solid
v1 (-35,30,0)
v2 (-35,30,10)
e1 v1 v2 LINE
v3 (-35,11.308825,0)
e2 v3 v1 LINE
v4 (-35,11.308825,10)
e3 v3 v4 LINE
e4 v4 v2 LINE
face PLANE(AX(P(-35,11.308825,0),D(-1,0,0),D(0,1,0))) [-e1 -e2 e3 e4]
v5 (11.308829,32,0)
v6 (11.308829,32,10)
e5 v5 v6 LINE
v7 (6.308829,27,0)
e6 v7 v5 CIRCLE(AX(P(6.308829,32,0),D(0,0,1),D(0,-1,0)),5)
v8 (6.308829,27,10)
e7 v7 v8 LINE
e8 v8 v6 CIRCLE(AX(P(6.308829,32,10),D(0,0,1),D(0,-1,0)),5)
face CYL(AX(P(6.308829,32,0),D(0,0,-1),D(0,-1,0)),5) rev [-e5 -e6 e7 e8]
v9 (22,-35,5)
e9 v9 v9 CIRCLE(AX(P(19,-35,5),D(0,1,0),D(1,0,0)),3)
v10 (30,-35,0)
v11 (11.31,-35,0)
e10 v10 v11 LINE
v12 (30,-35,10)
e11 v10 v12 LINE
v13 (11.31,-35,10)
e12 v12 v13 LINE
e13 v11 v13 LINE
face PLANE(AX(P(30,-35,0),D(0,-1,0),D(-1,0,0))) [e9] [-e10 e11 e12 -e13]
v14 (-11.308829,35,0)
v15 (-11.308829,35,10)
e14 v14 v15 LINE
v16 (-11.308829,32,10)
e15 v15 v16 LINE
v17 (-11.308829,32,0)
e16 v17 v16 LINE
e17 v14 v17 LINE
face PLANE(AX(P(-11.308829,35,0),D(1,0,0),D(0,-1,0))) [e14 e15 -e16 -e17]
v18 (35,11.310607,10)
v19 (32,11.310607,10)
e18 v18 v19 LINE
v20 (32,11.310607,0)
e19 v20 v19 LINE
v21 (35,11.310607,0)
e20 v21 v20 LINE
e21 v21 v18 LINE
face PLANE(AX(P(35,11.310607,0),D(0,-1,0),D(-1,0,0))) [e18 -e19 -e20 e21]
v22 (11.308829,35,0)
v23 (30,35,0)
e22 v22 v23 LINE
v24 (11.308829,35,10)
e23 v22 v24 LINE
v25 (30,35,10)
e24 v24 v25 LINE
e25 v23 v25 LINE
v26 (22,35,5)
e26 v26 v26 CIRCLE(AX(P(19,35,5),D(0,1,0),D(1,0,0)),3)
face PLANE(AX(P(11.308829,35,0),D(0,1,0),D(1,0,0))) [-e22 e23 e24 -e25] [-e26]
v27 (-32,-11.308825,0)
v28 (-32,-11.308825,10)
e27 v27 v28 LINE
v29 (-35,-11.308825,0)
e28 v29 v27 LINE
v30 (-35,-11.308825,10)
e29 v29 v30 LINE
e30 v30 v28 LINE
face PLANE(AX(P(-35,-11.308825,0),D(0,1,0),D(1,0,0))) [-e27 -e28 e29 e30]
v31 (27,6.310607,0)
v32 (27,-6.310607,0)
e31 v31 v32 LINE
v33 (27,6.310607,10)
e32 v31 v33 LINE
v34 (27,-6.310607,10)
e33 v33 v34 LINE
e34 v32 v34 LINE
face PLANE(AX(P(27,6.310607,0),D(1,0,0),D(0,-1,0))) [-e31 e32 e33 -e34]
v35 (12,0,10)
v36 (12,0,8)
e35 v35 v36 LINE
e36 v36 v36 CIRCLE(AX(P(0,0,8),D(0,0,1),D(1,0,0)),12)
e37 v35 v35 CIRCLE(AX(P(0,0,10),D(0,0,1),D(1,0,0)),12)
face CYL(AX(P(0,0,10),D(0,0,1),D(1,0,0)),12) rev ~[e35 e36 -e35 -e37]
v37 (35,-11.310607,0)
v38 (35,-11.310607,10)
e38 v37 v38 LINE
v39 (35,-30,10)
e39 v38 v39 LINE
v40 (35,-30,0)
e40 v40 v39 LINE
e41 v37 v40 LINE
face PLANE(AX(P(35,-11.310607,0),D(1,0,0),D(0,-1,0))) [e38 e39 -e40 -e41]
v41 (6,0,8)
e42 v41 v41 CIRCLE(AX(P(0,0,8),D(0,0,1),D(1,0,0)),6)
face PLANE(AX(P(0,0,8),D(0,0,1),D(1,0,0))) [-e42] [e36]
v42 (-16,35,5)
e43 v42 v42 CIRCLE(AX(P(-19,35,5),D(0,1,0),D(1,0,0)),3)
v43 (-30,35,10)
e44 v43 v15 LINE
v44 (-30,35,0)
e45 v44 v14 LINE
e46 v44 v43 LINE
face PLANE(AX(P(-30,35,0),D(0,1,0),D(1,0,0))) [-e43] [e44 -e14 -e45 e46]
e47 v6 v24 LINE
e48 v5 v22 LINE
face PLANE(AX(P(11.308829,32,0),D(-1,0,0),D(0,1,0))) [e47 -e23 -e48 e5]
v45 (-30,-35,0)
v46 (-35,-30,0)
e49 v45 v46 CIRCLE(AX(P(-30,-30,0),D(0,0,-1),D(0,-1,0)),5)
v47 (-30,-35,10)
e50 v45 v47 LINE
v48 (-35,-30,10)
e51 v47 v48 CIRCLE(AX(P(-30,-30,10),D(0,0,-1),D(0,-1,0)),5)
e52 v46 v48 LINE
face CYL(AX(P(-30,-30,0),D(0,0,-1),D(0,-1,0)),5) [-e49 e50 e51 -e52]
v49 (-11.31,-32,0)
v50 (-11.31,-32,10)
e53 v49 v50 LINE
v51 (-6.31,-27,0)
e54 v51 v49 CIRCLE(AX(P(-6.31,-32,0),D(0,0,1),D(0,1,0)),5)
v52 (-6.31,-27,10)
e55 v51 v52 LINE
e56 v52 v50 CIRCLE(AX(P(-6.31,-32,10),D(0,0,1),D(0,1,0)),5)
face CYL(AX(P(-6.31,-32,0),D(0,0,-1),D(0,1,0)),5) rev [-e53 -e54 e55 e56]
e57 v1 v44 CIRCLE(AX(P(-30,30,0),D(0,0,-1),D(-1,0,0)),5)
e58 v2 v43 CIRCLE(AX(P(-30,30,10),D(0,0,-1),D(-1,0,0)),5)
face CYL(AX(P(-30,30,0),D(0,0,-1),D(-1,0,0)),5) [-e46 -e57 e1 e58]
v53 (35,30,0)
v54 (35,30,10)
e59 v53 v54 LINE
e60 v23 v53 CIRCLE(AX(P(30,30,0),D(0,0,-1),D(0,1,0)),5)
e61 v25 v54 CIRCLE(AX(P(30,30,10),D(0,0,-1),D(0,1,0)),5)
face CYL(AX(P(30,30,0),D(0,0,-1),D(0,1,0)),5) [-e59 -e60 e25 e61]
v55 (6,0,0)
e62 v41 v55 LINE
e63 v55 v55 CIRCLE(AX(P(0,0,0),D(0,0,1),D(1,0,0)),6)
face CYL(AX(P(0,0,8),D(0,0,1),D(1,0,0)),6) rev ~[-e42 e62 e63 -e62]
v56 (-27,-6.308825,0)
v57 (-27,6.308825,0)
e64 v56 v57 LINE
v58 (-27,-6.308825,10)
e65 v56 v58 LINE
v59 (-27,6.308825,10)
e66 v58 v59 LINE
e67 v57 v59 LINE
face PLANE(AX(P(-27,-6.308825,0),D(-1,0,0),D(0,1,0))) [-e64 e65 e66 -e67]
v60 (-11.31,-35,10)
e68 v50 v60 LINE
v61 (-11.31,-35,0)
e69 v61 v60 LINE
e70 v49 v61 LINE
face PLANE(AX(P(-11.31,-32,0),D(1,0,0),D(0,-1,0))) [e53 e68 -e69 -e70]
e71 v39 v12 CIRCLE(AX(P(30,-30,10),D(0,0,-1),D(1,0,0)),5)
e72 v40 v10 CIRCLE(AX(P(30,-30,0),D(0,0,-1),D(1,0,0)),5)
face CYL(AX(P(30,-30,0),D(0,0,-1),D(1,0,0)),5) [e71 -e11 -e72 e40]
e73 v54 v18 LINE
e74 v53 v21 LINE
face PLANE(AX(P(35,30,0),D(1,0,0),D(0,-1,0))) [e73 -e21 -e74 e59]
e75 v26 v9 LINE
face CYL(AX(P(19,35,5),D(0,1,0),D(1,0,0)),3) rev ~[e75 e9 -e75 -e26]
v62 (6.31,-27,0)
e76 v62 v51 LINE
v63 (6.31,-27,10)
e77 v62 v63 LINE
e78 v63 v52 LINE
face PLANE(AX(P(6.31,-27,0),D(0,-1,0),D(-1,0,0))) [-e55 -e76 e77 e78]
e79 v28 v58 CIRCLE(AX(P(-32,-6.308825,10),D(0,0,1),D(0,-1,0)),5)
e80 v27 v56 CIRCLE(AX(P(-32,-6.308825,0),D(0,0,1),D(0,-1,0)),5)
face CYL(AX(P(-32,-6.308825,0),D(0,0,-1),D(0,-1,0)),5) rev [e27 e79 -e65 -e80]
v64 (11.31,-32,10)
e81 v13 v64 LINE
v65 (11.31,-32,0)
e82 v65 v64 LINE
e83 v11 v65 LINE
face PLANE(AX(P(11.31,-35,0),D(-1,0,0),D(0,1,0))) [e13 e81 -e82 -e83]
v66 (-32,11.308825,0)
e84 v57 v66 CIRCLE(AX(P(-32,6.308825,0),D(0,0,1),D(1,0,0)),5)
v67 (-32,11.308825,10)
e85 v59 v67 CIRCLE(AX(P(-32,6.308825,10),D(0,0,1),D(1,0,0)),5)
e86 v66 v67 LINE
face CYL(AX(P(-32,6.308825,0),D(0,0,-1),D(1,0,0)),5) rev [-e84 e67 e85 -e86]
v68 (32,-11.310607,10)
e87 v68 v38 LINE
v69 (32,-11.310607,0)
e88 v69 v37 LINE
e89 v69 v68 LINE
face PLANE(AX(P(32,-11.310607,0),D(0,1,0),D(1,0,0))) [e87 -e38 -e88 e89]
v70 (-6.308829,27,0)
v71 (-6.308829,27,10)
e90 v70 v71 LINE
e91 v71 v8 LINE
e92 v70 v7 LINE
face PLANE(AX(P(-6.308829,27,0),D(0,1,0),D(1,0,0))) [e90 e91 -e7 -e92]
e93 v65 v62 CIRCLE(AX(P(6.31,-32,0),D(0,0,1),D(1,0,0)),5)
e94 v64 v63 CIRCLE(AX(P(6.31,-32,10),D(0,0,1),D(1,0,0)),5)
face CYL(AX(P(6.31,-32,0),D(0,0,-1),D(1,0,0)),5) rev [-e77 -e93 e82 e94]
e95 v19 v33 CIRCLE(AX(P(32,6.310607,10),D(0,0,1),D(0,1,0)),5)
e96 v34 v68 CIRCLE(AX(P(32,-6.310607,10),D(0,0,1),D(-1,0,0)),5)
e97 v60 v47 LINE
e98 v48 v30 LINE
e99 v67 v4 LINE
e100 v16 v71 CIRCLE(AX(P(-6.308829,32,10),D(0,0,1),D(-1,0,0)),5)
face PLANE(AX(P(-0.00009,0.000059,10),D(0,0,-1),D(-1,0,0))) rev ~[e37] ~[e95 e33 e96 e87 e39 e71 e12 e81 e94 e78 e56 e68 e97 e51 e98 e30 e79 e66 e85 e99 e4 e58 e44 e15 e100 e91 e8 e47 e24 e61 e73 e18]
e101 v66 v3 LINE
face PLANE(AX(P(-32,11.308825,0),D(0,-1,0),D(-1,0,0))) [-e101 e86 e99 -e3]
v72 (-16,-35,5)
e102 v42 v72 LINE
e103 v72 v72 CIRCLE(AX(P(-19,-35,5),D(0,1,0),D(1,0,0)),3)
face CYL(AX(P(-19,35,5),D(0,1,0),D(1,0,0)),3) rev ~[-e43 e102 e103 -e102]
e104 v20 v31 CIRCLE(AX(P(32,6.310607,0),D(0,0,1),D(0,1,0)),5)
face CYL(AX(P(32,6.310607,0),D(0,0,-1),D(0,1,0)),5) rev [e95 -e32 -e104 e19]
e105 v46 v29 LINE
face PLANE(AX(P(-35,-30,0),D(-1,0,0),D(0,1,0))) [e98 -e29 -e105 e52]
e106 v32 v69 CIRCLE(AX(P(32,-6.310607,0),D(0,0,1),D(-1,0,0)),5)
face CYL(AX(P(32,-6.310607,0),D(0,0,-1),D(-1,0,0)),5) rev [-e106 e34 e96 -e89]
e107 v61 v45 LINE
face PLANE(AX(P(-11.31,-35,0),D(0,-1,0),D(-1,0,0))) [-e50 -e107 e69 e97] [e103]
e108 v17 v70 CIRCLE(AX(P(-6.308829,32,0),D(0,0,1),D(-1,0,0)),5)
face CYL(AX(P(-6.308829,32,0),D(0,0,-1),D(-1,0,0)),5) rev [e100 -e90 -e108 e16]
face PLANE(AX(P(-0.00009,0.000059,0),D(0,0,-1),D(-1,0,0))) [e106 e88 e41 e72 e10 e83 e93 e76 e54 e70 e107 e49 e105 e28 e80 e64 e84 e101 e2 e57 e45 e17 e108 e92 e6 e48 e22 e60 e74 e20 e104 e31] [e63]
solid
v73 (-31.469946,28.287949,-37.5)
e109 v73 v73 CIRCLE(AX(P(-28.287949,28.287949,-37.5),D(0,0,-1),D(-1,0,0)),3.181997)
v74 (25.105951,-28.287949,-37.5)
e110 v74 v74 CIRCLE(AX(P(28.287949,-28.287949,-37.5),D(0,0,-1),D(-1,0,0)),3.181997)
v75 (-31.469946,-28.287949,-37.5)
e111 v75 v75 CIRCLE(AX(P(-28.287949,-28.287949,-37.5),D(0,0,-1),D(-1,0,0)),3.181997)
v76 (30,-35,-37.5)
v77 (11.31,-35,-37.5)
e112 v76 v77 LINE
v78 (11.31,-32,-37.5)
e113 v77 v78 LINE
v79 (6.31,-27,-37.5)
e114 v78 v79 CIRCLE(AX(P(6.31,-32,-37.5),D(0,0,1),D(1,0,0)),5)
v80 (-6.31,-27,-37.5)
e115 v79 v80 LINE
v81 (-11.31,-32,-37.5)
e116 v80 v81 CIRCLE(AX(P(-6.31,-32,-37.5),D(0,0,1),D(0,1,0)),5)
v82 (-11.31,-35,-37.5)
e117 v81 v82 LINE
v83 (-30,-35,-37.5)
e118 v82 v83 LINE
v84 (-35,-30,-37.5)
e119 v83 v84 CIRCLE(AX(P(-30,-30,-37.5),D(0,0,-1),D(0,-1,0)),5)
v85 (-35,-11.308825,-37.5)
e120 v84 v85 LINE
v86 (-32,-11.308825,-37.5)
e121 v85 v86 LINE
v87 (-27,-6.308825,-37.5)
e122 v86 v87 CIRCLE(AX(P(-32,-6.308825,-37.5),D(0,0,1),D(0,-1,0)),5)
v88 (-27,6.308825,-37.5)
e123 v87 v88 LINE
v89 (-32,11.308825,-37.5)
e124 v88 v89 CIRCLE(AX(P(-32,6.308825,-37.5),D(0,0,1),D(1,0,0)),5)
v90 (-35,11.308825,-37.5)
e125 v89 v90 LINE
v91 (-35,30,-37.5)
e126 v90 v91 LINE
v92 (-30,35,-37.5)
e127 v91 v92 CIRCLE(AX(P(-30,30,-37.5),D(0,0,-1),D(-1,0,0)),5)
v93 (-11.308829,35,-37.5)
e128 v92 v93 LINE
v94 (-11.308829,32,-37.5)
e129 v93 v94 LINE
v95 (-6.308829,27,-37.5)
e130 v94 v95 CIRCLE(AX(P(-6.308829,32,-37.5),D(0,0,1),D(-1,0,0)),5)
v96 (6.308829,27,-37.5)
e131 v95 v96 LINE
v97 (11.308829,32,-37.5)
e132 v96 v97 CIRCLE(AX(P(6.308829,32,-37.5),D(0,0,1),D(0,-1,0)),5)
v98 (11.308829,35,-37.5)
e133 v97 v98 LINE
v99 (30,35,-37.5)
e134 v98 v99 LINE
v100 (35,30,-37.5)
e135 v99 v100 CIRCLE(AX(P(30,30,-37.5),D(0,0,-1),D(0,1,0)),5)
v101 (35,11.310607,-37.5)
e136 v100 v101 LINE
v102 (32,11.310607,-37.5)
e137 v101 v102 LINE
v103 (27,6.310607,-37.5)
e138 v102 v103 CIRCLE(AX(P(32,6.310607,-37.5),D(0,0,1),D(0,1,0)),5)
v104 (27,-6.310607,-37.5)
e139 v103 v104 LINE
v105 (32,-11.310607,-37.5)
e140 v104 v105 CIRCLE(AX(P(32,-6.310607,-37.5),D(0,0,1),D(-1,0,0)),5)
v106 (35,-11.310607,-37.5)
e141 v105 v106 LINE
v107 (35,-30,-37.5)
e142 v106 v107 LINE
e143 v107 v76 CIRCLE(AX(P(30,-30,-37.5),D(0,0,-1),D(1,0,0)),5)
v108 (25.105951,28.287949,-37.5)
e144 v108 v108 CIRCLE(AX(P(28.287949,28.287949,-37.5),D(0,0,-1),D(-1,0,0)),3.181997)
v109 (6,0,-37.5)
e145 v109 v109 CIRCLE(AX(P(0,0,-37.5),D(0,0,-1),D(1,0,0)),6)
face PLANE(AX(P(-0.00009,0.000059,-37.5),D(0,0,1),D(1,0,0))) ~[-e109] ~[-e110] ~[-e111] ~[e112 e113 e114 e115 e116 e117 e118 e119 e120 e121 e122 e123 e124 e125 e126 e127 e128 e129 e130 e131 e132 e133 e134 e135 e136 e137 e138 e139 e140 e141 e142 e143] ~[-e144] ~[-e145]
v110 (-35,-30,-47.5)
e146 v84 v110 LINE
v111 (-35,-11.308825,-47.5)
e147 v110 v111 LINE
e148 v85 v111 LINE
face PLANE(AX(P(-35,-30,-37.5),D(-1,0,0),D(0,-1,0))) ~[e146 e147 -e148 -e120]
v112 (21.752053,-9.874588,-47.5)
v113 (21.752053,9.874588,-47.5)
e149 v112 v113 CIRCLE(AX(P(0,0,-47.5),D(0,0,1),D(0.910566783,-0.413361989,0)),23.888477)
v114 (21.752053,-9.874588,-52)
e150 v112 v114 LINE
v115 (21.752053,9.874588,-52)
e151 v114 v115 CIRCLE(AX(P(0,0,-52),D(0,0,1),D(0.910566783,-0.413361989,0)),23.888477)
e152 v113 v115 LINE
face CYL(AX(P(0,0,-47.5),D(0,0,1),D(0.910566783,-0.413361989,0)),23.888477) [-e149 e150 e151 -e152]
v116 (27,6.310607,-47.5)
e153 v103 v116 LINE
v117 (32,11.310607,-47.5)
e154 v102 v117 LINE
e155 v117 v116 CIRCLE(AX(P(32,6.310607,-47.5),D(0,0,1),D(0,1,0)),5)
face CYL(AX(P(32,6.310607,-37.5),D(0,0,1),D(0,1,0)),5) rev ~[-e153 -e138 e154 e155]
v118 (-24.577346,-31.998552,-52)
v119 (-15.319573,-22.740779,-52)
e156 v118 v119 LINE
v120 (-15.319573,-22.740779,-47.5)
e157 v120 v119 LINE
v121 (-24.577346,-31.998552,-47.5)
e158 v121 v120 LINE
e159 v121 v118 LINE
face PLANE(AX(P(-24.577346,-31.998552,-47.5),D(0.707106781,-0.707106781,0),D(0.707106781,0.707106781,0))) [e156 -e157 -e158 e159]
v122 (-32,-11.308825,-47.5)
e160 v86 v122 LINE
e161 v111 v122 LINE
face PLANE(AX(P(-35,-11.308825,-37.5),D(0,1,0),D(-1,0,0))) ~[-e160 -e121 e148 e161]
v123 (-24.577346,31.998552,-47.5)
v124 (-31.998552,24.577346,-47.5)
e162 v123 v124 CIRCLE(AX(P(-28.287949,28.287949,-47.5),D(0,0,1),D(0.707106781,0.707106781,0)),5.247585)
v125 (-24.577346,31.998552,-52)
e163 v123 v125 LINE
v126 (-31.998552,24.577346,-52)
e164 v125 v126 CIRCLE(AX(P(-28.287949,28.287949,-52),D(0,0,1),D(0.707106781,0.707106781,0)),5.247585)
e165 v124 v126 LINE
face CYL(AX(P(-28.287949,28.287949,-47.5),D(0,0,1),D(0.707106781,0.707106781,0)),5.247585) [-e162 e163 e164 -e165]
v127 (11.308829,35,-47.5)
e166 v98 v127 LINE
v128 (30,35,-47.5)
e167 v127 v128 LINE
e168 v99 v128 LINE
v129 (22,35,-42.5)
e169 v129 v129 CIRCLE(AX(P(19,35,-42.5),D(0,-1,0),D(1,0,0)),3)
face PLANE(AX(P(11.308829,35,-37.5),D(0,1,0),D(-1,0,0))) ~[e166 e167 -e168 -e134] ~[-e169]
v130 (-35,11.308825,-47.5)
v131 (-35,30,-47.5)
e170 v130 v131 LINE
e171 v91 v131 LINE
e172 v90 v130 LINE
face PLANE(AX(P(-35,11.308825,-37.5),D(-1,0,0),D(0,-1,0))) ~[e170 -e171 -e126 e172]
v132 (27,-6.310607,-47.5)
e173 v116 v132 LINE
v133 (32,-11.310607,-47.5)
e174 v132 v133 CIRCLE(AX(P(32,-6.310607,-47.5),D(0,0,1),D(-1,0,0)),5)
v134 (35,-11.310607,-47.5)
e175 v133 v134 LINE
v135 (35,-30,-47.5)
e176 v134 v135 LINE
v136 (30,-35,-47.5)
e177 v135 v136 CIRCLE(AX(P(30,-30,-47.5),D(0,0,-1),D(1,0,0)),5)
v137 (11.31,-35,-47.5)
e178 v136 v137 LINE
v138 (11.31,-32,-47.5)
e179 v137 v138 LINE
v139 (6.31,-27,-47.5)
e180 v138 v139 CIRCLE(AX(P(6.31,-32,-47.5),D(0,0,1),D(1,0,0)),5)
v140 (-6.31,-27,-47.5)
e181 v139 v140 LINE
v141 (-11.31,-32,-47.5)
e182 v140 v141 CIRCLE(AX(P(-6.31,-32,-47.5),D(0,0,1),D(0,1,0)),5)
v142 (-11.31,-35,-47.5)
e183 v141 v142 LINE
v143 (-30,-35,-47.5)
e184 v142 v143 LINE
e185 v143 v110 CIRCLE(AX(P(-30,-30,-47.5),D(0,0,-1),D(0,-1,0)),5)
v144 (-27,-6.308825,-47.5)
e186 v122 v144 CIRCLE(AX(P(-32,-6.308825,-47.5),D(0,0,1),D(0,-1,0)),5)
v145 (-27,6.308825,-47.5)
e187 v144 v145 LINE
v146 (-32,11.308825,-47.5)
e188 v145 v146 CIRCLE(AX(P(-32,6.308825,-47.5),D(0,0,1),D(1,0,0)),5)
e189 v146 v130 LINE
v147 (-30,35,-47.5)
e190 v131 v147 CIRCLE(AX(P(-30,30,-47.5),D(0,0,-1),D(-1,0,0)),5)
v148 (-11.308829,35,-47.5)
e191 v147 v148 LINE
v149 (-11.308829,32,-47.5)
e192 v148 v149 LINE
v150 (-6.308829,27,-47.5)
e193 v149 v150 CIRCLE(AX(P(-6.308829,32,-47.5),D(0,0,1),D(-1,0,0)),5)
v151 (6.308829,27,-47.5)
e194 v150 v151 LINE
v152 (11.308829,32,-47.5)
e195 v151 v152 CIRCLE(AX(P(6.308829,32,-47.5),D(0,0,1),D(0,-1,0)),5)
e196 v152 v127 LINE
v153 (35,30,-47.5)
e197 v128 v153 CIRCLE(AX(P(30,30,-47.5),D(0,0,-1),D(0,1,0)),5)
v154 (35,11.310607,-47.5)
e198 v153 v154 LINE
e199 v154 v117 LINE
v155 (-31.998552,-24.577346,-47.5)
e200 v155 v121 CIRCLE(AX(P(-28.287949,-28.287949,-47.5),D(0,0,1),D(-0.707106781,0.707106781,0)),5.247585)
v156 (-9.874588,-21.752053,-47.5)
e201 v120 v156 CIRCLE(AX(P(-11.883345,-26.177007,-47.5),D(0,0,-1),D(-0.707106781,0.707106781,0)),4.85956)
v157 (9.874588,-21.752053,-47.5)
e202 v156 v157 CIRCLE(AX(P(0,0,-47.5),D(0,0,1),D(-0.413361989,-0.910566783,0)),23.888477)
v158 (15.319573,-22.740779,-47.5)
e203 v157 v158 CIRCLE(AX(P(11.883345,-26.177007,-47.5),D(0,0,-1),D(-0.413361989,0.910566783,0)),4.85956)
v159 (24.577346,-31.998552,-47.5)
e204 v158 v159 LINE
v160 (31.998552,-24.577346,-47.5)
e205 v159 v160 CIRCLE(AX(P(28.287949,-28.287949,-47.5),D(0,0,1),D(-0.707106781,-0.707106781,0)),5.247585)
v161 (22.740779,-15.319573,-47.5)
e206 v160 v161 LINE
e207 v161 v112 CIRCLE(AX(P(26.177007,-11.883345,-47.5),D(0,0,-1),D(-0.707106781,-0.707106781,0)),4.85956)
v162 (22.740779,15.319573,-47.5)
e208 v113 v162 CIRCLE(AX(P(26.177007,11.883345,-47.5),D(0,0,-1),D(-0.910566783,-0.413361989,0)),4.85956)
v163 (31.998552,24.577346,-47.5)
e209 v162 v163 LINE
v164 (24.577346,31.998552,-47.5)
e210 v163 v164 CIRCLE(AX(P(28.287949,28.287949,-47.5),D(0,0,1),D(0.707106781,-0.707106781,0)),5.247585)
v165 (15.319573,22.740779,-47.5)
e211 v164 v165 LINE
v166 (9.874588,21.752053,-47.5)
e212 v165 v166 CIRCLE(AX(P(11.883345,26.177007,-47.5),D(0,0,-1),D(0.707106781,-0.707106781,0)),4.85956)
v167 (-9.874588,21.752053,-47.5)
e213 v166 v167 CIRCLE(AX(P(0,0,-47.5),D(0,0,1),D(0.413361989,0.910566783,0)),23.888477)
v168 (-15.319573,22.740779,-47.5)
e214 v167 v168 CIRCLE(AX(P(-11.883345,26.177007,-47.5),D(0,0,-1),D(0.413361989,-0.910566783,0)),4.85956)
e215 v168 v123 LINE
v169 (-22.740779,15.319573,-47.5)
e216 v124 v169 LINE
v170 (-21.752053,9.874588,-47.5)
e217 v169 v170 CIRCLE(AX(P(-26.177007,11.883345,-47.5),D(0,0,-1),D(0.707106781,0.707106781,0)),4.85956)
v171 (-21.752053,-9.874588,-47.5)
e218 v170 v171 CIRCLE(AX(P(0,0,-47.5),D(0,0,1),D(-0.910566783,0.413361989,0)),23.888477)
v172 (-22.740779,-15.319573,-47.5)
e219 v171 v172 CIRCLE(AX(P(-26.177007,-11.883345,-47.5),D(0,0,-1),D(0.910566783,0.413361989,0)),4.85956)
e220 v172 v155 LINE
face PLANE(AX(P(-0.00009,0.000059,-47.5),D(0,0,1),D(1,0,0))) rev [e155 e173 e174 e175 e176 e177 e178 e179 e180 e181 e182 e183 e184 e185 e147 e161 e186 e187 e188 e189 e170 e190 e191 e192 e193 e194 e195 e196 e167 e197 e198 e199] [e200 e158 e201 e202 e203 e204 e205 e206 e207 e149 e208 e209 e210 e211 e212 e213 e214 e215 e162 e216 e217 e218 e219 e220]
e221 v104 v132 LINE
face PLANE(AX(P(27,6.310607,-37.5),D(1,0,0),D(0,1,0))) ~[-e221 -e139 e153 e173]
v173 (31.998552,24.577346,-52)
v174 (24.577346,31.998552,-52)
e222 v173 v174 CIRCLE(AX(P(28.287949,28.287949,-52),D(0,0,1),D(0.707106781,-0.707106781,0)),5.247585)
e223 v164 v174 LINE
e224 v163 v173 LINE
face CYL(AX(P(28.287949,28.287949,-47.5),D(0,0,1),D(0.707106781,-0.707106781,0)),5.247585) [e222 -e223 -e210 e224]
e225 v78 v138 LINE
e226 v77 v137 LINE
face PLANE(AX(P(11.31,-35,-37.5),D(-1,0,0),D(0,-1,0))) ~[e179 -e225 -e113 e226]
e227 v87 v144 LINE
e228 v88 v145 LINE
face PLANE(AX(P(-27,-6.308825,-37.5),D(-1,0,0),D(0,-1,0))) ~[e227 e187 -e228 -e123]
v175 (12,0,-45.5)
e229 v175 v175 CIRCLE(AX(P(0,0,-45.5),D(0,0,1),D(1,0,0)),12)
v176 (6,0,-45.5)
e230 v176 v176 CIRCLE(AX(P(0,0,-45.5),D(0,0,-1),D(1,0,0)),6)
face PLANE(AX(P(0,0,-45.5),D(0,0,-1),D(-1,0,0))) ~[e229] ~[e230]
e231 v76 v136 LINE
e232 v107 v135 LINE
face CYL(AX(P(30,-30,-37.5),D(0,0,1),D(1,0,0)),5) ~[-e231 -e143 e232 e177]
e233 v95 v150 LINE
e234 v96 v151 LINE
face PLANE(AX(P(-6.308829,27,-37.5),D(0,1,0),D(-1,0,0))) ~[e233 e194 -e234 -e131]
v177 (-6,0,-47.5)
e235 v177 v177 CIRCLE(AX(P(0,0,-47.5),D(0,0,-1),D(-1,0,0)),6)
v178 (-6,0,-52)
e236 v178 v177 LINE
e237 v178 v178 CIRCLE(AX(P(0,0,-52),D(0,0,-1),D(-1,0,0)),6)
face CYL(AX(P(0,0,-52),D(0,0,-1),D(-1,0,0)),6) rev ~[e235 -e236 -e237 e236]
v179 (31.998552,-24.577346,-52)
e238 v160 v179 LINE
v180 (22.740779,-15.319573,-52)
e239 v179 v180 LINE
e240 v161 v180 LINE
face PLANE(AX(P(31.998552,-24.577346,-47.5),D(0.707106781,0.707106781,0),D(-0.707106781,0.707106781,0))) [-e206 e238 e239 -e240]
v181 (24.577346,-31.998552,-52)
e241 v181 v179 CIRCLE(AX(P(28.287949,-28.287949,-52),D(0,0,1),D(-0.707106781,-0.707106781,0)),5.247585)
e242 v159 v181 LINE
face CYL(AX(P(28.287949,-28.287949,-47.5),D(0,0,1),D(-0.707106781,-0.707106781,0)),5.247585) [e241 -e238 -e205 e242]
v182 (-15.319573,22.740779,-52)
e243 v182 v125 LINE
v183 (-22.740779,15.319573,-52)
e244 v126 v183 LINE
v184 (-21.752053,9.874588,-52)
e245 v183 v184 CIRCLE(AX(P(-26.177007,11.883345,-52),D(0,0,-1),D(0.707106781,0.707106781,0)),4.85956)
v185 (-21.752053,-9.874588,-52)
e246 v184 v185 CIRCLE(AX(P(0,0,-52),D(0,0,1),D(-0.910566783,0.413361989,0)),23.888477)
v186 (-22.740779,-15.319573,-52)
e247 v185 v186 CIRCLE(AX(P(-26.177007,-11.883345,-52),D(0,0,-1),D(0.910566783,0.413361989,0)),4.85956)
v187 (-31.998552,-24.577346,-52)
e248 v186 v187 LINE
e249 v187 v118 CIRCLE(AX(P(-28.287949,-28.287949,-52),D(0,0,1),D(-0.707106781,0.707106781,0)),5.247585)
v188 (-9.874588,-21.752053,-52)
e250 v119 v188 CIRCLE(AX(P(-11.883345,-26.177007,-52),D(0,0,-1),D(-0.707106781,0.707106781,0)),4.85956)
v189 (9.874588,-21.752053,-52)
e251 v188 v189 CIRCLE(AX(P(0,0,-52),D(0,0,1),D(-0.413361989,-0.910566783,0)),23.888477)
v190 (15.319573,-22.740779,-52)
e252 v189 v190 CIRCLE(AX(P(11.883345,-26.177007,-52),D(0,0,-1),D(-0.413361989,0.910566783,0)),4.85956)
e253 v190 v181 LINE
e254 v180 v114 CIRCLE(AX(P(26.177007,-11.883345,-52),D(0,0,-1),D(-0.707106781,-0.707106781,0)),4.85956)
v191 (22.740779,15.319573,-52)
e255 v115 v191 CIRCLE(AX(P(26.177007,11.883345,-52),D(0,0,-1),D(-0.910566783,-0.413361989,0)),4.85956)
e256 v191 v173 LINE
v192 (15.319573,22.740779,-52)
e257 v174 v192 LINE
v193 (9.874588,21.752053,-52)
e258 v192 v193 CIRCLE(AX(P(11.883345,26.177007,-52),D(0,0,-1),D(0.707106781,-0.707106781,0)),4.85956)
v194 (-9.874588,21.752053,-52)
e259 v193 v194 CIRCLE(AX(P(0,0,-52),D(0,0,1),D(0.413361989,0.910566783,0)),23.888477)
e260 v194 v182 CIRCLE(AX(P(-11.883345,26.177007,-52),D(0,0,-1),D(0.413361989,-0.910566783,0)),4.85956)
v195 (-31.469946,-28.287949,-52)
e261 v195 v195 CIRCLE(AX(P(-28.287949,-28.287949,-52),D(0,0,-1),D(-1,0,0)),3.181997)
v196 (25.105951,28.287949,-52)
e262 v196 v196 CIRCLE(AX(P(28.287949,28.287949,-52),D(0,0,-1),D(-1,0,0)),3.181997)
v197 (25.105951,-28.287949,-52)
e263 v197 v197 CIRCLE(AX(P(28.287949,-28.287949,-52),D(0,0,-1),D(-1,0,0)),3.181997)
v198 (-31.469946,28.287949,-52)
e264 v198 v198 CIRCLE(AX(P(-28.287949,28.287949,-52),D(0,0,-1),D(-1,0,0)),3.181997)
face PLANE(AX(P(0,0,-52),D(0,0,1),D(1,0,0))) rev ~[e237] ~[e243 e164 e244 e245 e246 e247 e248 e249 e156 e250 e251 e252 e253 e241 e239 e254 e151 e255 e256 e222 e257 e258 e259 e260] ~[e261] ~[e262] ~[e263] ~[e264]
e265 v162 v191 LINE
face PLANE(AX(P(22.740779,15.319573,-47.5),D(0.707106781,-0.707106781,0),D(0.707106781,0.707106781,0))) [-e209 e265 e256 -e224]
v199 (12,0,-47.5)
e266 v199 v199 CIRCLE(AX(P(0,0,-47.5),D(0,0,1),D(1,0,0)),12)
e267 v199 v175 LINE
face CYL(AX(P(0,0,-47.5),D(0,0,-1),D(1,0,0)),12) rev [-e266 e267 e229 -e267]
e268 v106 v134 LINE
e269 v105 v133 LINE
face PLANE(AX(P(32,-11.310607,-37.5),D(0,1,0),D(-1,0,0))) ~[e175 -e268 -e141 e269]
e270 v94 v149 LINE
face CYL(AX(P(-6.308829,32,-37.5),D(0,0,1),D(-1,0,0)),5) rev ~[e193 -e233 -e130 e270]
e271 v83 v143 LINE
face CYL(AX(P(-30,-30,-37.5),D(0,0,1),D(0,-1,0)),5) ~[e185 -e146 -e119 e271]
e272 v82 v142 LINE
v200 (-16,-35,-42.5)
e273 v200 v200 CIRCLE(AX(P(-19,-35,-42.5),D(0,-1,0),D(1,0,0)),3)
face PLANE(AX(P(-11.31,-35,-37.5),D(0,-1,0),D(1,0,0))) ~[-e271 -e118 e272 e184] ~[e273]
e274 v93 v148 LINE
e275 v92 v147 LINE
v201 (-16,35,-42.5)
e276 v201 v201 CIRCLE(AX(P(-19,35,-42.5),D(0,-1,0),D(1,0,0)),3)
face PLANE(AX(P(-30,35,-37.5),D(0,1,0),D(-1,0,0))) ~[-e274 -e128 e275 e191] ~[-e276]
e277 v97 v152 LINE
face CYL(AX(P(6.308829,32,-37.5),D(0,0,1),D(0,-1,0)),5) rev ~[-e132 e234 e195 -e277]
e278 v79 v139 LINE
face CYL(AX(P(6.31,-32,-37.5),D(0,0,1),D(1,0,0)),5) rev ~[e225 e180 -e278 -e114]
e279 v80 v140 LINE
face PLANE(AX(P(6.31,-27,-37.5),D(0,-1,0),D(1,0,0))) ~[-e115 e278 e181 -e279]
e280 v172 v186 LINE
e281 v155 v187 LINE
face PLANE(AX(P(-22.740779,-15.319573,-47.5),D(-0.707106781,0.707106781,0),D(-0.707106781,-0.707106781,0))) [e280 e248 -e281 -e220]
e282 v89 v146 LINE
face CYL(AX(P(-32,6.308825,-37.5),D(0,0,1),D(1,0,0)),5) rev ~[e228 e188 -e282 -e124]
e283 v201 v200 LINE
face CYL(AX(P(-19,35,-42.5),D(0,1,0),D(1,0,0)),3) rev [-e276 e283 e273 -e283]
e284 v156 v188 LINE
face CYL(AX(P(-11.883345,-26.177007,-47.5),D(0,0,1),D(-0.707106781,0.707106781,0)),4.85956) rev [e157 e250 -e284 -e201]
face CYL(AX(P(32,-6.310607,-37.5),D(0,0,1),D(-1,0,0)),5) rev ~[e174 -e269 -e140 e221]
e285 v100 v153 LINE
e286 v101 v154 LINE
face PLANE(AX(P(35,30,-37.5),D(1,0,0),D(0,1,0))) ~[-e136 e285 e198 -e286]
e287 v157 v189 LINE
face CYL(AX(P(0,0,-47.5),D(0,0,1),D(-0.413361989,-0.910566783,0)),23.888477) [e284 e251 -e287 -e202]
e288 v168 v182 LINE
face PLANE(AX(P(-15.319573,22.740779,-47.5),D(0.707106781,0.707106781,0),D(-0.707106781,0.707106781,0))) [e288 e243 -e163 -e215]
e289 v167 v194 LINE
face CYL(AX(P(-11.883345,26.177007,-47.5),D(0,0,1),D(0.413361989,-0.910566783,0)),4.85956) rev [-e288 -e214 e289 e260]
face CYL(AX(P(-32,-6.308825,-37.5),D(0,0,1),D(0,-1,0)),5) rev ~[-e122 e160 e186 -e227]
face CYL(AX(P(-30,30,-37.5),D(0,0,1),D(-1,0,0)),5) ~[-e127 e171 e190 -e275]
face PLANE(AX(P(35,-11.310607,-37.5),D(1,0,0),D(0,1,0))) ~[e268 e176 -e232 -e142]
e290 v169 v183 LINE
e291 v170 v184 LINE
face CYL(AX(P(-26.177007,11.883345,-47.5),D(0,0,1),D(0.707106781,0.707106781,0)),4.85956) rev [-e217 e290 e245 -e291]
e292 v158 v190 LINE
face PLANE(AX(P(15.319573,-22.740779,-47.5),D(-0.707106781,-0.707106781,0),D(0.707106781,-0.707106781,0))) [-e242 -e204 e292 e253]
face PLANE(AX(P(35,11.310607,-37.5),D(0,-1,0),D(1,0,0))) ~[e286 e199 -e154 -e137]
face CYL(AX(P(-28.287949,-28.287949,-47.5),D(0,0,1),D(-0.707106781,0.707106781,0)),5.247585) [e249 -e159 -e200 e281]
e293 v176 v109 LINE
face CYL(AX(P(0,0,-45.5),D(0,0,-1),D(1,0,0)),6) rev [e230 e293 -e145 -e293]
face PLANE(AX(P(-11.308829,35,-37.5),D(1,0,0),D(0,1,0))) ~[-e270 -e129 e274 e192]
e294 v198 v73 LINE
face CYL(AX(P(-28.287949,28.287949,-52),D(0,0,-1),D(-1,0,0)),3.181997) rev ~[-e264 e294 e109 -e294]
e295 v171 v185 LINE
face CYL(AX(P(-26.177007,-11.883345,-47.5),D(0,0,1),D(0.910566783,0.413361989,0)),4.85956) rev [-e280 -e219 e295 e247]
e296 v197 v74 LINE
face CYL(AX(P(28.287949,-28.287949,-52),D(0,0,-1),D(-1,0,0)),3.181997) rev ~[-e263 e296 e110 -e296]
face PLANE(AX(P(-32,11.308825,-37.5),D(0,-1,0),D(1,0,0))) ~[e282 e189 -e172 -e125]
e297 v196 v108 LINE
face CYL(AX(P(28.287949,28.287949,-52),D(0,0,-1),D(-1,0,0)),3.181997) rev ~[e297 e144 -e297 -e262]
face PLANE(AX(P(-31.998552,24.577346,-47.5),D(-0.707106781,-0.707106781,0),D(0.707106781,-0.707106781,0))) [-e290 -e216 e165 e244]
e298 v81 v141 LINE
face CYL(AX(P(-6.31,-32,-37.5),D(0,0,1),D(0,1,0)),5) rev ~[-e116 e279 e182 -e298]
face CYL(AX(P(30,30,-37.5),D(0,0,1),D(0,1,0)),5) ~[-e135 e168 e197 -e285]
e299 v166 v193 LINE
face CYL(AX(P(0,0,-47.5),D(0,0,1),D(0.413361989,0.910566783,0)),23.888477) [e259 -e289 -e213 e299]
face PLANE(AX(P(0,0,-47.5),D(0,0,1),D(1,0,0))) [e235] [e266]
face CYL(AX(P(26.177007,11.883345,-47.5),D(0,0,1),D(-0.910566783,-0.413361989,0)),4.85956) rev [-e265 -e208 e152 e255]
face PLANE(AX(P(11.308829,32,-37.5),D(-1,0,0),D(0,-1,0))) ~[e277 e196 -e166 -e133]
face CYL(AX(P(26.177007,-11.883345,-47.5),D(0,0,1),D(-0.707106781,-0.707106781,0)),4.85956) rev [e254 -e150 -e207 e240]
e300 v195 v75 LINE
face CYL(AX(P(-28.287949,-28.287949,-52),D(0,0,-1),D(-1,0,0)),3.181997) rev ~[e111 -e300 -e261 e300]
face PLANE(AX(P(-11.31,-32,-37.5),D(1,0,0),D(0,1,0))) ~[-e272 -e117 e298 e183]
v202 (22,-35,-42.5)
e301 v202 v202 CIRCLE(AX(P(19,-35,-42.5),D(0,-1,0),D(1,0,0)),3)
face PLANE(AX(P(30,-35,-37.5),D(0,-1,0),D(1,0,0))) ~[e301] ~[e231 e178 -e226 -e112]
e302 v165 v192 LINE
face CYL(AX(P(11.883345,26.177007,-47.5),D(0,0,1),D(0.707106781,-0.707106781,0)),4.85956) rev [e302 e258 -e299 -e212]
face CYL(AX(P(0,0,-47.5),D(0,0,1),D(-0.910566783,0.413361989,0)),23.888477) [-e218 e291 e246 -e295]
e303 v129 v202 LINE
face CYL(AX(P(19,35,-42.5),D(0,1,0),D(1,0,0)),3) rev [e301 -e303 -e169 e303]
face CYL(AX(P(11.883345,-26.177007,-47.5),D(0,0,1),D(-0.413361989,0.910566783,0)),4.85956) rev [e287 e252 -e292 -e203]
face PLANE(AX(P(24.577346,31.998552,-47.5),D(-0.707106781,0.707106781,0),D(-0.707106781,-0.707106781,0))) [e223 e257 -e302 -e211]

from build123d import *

# Parameters (mm, degrees)
BOSS_EXTRUDE1_DEPTH = 10
SKETCH2_R           = 3
CUT_EXTRUDE1_DEPTH  = 71
SKETCH3_R           = 12
CUT_EXTRUDE2_DEPTH  = 2
SKETCH4_R           = 6
CUT_EXTRUDE3_DEPTH  = 9
BOSS_EXTRUDE2_DEPTH = 4.5
SKETCH6_R           = 3.181997279
SKETCH6_R_2         = 6
CUT_EXTRUDE4_DEPTH  = 14.5


with BuildPart() as part:
    # Sketch1 → Boss-Extrude1 (new body)
    with BuildSketch(Plane.XY):
        with BuildLine():
            Line((-30, 35), (-11.308829268, 35))
            Line((-11.308829268, 35), (-11.308829268, 32))
            ThreePointArc((-11.308829268, 32), (-9.844363174, 28.464466094), (-6.308829268, 27))
            Line((-6.308829268, 27), (6.308829268, 27))
            ThreePointArc((6.308829268, 27), (9.844363174, 28.464466094), (11.308829268, 32))
            Line((11.308829268, 32), (11.308829268, 35))
            Line((11.308829268, 35), (30, 35))
            ThreePointArc((30, 35), (33.535533906, 33.535533906), (35, 30))
            Line((35, 30), (35, 11.310607042))
            Line((35, 11.310607042), (32, 11.310607042))
            ThreePointArc((32, 11.310607042), (28.464466094, 9.846140948), (27, 6.310607042))
            Line((27, 6.310607042), (27, -6.310607042))
            ThreePointArc((27, -6.310607042), (28.464466094, -9.846140948), (32, -11.310607042))
            Line((32, -11.310607042), (35, -11.310607042))
            Line((35, -11.310607042), (35, -30))
            ThreePointArc((35, -30), (33.535533906, -33.535533906), (30, -35))
            Line((30, -35), (11.31, -35))
            Line((11.31, -35), (11.31, -32))
            ThreePointArc((11.31, -32), (9.845533906, -28.464466094), (6.31, -27))
            Line((6.31, -27), (-6.31, -27))
            ThreePointArc((-6.31, -27), (-9.845533906, -28.464466094), (-11.31, -32))
            Line((-11.31, -32), (-11.31, -35))
            Line((-11.31, -35), (-30, -35))
            ThreePointArc((-30, -35), (-33.535533906, -33.535533906), (-35, -30))
            Line((-35, -30), (-35, -11.308825459))
            Line((-35, -11.308825459), (-32, -11.308825459))
            ThreePointArc((-32, -11.308825459), (-28.464466094, -9.844359365), (-27, -6.308825459))
            Line((-27, -6.308825459), (-27, 6.308825459))
            ThreePointArc((-27, 6.308825459), (-28.464466094, 9.844359365), (-32, 11.308825459))
            Line((-32, 11.308825459), (-35, 11.308825459))
            Line((-35, 11.308825459), (-35, 30))
            ThreePointArc((-35, 30), (-33.535533906, 33.535533906), (-30, 35))
        make_face()
    extrude(amount=BOSS_EXTRUDE1_DEPTH)

    # Sketch2 → Cut-Extrude1 (cut, through all)
    with BuildSketch(Plane(origin=(0, 35, 0), x_dir=(1, 0, 0), z_dir=(0, 1, 0))):
        with Locations((-19, -5)):
            Circle(SKETCH2_R)
        with Locations((19, -5)):
            Circle(SKETCH2_R)
    extrude(amount=-CUT_EXTRUDE1_DEPTH, mode=Mode.SUBTRACT)

    # Sketch3 → Cut-Extrude2 (cut)
    with BuildSketch(Plane.XY.offset(10)):
        Circle(SKETCH3_R)
    extrude(amount=-CUT_EXTRUDE2_DEPTH, mode=Mode.SUBTRACT)

    # Sketch4 → Cut-Extrude3 (cut, through all)
    with BuildSketch(Plane.XY.offset(8)):
        Circle(SKETCH4_R)
    extrude(amount=-CUT_EXTRUDE3_DEPTH, mode=Mode.SUBTRACT)


with BuildPart() as body_2:
    # Mirror12: mirrored copy
    add(part.part.mirror(Plane(origin=(0, 0, -18.75), x_dir=(1, 0, 0), z_dir=(0, 0, -1))))

    # Sketch5 → Boss-Extrude2 (add)
    with BuildSketch(Plane(origin=(0, 0, -47.5), x_dir=(-1, 0, 0), z_dir=(0, 0, -1))):
        with BuildLine():
            Line((-24.577345561, 31.998551775), (-15.319573038, 22.740779251))
            ThreePointArc((-15.319573038, 22.740779251), (-12.751569301, 21.395635962), (-9.874588176, 21.75205323))
            ThreePointArc((-9.874588176, 21.75205323), (0, 23.888476539), (9.874588176, 21.75205323))
            ThreePointArc((9.874588176, 21.75205323), (12.751569301, 21.395635962), (15.319573038, 22.740779251))
            Line((15.319573038, 22.740779251), (24.577345561, 31.998551775))
            ThreePointArc((24.577345561, 31.998551775), (31.998551775, 31.998551775), (31.998551775, 24.577345561))
            Line((31.998551775, 24.577345561), (22.740779251, 15.319573038))
            ThreePointArc((22.740779251, 15.319573038), (21.395635962, 12.751569301), (21.75205323, 9.874588176))
            ThreePointArc((21.75205323, 9.874588176), (23.888476539, 0), (21.75205323, -9.874588176))
            ThreePointArc((21.75205323, -9.874588176), (21.395635962, -12.751569301), (22.740779251, -15.319573038))
            Line((22.740779251, -15.319573038), (31.998551775, -24.577345561))
            ThreePointArc((31.998551775, -24.577345561), (31.998551775, -31.998551775), (24.577345561, -31.998551775))
            Line((24.577345561, -31.998551775), (15.319573038, -22.740779251))
            ThreePointArc((15.319573038, -22.740779251), (12.751569301, -21.395635962), (9.874588176, -21.75205323))
            ThreePointArc((9.874588176, -21.75205323), (0, -23.888476539), (-9.874588176, -21.75205323))
            ThreePointArc((-9.874588176, -21.75205323), (-12.751569301, -21.395635962), (-15.319573038, -22.740779251))
            Line((-15.319573038, -22.740779251), (-24.577345561, -31.998551775))
            ThreePointArc((-24.577345561, -31.998551775), (-31.998551775, -31.998551775), (-31.998551775, -24.577345561))
            Line((-31.998551775, -24.577345561), (-22.740779251, -15.319573038))
            ThreePointArc((-22.740779251, -15.319573038), (-21.395635962, -12.751569301), (-21.75205323, -9.874588176))
            ThreePointArc((-21.75205323, -9.874588176), (-23.888476539, 0), (-21.75205323, 9.874588176))
            ThreePointArc((-21.75205323, 9.874588176), (-21.395635962, 12.751569301), (-22.740779251, 15.319573038))
            Line((-22.740779251, 15.319573038), (-31.998551775, 24.577345561))
            ThreePointArc((-31.998551775, 24.577345561), (-31.998551775, 31.998551775), (-24.577345561, 31.998551775))
        make_face()
    extrude(amount=BOSS_EXTRUDE2_DEPTH)

    # Sketch6 → Cut-Extrude4 (cut)
    with BuildSketch(Plane(origin=(0, 0, -52), x_dir=(-1, 0, 0), z_dir=(0, 0, -1))):
        with Locations((-28.287948668, 28.287948668)):
            Circle(SKETCH6_R)
        with Locations((28.287948668, 28.287948668)):
            Circle(SKETCH6_R)
        with Locations((28.287948668, -28.287948668)):
            Circle(SKETCH6_R)
        with Locations((-28.287948668, -28.287948668)):
            Circle(SKETCH6_R)
        Circle(SKETCH6_R_2)
    extrude(amount=-CUT_EXTRUDE4_DEPTH, mode=Mode.SUBTRACT)


solid = Compound([part.part, body_2.part])
